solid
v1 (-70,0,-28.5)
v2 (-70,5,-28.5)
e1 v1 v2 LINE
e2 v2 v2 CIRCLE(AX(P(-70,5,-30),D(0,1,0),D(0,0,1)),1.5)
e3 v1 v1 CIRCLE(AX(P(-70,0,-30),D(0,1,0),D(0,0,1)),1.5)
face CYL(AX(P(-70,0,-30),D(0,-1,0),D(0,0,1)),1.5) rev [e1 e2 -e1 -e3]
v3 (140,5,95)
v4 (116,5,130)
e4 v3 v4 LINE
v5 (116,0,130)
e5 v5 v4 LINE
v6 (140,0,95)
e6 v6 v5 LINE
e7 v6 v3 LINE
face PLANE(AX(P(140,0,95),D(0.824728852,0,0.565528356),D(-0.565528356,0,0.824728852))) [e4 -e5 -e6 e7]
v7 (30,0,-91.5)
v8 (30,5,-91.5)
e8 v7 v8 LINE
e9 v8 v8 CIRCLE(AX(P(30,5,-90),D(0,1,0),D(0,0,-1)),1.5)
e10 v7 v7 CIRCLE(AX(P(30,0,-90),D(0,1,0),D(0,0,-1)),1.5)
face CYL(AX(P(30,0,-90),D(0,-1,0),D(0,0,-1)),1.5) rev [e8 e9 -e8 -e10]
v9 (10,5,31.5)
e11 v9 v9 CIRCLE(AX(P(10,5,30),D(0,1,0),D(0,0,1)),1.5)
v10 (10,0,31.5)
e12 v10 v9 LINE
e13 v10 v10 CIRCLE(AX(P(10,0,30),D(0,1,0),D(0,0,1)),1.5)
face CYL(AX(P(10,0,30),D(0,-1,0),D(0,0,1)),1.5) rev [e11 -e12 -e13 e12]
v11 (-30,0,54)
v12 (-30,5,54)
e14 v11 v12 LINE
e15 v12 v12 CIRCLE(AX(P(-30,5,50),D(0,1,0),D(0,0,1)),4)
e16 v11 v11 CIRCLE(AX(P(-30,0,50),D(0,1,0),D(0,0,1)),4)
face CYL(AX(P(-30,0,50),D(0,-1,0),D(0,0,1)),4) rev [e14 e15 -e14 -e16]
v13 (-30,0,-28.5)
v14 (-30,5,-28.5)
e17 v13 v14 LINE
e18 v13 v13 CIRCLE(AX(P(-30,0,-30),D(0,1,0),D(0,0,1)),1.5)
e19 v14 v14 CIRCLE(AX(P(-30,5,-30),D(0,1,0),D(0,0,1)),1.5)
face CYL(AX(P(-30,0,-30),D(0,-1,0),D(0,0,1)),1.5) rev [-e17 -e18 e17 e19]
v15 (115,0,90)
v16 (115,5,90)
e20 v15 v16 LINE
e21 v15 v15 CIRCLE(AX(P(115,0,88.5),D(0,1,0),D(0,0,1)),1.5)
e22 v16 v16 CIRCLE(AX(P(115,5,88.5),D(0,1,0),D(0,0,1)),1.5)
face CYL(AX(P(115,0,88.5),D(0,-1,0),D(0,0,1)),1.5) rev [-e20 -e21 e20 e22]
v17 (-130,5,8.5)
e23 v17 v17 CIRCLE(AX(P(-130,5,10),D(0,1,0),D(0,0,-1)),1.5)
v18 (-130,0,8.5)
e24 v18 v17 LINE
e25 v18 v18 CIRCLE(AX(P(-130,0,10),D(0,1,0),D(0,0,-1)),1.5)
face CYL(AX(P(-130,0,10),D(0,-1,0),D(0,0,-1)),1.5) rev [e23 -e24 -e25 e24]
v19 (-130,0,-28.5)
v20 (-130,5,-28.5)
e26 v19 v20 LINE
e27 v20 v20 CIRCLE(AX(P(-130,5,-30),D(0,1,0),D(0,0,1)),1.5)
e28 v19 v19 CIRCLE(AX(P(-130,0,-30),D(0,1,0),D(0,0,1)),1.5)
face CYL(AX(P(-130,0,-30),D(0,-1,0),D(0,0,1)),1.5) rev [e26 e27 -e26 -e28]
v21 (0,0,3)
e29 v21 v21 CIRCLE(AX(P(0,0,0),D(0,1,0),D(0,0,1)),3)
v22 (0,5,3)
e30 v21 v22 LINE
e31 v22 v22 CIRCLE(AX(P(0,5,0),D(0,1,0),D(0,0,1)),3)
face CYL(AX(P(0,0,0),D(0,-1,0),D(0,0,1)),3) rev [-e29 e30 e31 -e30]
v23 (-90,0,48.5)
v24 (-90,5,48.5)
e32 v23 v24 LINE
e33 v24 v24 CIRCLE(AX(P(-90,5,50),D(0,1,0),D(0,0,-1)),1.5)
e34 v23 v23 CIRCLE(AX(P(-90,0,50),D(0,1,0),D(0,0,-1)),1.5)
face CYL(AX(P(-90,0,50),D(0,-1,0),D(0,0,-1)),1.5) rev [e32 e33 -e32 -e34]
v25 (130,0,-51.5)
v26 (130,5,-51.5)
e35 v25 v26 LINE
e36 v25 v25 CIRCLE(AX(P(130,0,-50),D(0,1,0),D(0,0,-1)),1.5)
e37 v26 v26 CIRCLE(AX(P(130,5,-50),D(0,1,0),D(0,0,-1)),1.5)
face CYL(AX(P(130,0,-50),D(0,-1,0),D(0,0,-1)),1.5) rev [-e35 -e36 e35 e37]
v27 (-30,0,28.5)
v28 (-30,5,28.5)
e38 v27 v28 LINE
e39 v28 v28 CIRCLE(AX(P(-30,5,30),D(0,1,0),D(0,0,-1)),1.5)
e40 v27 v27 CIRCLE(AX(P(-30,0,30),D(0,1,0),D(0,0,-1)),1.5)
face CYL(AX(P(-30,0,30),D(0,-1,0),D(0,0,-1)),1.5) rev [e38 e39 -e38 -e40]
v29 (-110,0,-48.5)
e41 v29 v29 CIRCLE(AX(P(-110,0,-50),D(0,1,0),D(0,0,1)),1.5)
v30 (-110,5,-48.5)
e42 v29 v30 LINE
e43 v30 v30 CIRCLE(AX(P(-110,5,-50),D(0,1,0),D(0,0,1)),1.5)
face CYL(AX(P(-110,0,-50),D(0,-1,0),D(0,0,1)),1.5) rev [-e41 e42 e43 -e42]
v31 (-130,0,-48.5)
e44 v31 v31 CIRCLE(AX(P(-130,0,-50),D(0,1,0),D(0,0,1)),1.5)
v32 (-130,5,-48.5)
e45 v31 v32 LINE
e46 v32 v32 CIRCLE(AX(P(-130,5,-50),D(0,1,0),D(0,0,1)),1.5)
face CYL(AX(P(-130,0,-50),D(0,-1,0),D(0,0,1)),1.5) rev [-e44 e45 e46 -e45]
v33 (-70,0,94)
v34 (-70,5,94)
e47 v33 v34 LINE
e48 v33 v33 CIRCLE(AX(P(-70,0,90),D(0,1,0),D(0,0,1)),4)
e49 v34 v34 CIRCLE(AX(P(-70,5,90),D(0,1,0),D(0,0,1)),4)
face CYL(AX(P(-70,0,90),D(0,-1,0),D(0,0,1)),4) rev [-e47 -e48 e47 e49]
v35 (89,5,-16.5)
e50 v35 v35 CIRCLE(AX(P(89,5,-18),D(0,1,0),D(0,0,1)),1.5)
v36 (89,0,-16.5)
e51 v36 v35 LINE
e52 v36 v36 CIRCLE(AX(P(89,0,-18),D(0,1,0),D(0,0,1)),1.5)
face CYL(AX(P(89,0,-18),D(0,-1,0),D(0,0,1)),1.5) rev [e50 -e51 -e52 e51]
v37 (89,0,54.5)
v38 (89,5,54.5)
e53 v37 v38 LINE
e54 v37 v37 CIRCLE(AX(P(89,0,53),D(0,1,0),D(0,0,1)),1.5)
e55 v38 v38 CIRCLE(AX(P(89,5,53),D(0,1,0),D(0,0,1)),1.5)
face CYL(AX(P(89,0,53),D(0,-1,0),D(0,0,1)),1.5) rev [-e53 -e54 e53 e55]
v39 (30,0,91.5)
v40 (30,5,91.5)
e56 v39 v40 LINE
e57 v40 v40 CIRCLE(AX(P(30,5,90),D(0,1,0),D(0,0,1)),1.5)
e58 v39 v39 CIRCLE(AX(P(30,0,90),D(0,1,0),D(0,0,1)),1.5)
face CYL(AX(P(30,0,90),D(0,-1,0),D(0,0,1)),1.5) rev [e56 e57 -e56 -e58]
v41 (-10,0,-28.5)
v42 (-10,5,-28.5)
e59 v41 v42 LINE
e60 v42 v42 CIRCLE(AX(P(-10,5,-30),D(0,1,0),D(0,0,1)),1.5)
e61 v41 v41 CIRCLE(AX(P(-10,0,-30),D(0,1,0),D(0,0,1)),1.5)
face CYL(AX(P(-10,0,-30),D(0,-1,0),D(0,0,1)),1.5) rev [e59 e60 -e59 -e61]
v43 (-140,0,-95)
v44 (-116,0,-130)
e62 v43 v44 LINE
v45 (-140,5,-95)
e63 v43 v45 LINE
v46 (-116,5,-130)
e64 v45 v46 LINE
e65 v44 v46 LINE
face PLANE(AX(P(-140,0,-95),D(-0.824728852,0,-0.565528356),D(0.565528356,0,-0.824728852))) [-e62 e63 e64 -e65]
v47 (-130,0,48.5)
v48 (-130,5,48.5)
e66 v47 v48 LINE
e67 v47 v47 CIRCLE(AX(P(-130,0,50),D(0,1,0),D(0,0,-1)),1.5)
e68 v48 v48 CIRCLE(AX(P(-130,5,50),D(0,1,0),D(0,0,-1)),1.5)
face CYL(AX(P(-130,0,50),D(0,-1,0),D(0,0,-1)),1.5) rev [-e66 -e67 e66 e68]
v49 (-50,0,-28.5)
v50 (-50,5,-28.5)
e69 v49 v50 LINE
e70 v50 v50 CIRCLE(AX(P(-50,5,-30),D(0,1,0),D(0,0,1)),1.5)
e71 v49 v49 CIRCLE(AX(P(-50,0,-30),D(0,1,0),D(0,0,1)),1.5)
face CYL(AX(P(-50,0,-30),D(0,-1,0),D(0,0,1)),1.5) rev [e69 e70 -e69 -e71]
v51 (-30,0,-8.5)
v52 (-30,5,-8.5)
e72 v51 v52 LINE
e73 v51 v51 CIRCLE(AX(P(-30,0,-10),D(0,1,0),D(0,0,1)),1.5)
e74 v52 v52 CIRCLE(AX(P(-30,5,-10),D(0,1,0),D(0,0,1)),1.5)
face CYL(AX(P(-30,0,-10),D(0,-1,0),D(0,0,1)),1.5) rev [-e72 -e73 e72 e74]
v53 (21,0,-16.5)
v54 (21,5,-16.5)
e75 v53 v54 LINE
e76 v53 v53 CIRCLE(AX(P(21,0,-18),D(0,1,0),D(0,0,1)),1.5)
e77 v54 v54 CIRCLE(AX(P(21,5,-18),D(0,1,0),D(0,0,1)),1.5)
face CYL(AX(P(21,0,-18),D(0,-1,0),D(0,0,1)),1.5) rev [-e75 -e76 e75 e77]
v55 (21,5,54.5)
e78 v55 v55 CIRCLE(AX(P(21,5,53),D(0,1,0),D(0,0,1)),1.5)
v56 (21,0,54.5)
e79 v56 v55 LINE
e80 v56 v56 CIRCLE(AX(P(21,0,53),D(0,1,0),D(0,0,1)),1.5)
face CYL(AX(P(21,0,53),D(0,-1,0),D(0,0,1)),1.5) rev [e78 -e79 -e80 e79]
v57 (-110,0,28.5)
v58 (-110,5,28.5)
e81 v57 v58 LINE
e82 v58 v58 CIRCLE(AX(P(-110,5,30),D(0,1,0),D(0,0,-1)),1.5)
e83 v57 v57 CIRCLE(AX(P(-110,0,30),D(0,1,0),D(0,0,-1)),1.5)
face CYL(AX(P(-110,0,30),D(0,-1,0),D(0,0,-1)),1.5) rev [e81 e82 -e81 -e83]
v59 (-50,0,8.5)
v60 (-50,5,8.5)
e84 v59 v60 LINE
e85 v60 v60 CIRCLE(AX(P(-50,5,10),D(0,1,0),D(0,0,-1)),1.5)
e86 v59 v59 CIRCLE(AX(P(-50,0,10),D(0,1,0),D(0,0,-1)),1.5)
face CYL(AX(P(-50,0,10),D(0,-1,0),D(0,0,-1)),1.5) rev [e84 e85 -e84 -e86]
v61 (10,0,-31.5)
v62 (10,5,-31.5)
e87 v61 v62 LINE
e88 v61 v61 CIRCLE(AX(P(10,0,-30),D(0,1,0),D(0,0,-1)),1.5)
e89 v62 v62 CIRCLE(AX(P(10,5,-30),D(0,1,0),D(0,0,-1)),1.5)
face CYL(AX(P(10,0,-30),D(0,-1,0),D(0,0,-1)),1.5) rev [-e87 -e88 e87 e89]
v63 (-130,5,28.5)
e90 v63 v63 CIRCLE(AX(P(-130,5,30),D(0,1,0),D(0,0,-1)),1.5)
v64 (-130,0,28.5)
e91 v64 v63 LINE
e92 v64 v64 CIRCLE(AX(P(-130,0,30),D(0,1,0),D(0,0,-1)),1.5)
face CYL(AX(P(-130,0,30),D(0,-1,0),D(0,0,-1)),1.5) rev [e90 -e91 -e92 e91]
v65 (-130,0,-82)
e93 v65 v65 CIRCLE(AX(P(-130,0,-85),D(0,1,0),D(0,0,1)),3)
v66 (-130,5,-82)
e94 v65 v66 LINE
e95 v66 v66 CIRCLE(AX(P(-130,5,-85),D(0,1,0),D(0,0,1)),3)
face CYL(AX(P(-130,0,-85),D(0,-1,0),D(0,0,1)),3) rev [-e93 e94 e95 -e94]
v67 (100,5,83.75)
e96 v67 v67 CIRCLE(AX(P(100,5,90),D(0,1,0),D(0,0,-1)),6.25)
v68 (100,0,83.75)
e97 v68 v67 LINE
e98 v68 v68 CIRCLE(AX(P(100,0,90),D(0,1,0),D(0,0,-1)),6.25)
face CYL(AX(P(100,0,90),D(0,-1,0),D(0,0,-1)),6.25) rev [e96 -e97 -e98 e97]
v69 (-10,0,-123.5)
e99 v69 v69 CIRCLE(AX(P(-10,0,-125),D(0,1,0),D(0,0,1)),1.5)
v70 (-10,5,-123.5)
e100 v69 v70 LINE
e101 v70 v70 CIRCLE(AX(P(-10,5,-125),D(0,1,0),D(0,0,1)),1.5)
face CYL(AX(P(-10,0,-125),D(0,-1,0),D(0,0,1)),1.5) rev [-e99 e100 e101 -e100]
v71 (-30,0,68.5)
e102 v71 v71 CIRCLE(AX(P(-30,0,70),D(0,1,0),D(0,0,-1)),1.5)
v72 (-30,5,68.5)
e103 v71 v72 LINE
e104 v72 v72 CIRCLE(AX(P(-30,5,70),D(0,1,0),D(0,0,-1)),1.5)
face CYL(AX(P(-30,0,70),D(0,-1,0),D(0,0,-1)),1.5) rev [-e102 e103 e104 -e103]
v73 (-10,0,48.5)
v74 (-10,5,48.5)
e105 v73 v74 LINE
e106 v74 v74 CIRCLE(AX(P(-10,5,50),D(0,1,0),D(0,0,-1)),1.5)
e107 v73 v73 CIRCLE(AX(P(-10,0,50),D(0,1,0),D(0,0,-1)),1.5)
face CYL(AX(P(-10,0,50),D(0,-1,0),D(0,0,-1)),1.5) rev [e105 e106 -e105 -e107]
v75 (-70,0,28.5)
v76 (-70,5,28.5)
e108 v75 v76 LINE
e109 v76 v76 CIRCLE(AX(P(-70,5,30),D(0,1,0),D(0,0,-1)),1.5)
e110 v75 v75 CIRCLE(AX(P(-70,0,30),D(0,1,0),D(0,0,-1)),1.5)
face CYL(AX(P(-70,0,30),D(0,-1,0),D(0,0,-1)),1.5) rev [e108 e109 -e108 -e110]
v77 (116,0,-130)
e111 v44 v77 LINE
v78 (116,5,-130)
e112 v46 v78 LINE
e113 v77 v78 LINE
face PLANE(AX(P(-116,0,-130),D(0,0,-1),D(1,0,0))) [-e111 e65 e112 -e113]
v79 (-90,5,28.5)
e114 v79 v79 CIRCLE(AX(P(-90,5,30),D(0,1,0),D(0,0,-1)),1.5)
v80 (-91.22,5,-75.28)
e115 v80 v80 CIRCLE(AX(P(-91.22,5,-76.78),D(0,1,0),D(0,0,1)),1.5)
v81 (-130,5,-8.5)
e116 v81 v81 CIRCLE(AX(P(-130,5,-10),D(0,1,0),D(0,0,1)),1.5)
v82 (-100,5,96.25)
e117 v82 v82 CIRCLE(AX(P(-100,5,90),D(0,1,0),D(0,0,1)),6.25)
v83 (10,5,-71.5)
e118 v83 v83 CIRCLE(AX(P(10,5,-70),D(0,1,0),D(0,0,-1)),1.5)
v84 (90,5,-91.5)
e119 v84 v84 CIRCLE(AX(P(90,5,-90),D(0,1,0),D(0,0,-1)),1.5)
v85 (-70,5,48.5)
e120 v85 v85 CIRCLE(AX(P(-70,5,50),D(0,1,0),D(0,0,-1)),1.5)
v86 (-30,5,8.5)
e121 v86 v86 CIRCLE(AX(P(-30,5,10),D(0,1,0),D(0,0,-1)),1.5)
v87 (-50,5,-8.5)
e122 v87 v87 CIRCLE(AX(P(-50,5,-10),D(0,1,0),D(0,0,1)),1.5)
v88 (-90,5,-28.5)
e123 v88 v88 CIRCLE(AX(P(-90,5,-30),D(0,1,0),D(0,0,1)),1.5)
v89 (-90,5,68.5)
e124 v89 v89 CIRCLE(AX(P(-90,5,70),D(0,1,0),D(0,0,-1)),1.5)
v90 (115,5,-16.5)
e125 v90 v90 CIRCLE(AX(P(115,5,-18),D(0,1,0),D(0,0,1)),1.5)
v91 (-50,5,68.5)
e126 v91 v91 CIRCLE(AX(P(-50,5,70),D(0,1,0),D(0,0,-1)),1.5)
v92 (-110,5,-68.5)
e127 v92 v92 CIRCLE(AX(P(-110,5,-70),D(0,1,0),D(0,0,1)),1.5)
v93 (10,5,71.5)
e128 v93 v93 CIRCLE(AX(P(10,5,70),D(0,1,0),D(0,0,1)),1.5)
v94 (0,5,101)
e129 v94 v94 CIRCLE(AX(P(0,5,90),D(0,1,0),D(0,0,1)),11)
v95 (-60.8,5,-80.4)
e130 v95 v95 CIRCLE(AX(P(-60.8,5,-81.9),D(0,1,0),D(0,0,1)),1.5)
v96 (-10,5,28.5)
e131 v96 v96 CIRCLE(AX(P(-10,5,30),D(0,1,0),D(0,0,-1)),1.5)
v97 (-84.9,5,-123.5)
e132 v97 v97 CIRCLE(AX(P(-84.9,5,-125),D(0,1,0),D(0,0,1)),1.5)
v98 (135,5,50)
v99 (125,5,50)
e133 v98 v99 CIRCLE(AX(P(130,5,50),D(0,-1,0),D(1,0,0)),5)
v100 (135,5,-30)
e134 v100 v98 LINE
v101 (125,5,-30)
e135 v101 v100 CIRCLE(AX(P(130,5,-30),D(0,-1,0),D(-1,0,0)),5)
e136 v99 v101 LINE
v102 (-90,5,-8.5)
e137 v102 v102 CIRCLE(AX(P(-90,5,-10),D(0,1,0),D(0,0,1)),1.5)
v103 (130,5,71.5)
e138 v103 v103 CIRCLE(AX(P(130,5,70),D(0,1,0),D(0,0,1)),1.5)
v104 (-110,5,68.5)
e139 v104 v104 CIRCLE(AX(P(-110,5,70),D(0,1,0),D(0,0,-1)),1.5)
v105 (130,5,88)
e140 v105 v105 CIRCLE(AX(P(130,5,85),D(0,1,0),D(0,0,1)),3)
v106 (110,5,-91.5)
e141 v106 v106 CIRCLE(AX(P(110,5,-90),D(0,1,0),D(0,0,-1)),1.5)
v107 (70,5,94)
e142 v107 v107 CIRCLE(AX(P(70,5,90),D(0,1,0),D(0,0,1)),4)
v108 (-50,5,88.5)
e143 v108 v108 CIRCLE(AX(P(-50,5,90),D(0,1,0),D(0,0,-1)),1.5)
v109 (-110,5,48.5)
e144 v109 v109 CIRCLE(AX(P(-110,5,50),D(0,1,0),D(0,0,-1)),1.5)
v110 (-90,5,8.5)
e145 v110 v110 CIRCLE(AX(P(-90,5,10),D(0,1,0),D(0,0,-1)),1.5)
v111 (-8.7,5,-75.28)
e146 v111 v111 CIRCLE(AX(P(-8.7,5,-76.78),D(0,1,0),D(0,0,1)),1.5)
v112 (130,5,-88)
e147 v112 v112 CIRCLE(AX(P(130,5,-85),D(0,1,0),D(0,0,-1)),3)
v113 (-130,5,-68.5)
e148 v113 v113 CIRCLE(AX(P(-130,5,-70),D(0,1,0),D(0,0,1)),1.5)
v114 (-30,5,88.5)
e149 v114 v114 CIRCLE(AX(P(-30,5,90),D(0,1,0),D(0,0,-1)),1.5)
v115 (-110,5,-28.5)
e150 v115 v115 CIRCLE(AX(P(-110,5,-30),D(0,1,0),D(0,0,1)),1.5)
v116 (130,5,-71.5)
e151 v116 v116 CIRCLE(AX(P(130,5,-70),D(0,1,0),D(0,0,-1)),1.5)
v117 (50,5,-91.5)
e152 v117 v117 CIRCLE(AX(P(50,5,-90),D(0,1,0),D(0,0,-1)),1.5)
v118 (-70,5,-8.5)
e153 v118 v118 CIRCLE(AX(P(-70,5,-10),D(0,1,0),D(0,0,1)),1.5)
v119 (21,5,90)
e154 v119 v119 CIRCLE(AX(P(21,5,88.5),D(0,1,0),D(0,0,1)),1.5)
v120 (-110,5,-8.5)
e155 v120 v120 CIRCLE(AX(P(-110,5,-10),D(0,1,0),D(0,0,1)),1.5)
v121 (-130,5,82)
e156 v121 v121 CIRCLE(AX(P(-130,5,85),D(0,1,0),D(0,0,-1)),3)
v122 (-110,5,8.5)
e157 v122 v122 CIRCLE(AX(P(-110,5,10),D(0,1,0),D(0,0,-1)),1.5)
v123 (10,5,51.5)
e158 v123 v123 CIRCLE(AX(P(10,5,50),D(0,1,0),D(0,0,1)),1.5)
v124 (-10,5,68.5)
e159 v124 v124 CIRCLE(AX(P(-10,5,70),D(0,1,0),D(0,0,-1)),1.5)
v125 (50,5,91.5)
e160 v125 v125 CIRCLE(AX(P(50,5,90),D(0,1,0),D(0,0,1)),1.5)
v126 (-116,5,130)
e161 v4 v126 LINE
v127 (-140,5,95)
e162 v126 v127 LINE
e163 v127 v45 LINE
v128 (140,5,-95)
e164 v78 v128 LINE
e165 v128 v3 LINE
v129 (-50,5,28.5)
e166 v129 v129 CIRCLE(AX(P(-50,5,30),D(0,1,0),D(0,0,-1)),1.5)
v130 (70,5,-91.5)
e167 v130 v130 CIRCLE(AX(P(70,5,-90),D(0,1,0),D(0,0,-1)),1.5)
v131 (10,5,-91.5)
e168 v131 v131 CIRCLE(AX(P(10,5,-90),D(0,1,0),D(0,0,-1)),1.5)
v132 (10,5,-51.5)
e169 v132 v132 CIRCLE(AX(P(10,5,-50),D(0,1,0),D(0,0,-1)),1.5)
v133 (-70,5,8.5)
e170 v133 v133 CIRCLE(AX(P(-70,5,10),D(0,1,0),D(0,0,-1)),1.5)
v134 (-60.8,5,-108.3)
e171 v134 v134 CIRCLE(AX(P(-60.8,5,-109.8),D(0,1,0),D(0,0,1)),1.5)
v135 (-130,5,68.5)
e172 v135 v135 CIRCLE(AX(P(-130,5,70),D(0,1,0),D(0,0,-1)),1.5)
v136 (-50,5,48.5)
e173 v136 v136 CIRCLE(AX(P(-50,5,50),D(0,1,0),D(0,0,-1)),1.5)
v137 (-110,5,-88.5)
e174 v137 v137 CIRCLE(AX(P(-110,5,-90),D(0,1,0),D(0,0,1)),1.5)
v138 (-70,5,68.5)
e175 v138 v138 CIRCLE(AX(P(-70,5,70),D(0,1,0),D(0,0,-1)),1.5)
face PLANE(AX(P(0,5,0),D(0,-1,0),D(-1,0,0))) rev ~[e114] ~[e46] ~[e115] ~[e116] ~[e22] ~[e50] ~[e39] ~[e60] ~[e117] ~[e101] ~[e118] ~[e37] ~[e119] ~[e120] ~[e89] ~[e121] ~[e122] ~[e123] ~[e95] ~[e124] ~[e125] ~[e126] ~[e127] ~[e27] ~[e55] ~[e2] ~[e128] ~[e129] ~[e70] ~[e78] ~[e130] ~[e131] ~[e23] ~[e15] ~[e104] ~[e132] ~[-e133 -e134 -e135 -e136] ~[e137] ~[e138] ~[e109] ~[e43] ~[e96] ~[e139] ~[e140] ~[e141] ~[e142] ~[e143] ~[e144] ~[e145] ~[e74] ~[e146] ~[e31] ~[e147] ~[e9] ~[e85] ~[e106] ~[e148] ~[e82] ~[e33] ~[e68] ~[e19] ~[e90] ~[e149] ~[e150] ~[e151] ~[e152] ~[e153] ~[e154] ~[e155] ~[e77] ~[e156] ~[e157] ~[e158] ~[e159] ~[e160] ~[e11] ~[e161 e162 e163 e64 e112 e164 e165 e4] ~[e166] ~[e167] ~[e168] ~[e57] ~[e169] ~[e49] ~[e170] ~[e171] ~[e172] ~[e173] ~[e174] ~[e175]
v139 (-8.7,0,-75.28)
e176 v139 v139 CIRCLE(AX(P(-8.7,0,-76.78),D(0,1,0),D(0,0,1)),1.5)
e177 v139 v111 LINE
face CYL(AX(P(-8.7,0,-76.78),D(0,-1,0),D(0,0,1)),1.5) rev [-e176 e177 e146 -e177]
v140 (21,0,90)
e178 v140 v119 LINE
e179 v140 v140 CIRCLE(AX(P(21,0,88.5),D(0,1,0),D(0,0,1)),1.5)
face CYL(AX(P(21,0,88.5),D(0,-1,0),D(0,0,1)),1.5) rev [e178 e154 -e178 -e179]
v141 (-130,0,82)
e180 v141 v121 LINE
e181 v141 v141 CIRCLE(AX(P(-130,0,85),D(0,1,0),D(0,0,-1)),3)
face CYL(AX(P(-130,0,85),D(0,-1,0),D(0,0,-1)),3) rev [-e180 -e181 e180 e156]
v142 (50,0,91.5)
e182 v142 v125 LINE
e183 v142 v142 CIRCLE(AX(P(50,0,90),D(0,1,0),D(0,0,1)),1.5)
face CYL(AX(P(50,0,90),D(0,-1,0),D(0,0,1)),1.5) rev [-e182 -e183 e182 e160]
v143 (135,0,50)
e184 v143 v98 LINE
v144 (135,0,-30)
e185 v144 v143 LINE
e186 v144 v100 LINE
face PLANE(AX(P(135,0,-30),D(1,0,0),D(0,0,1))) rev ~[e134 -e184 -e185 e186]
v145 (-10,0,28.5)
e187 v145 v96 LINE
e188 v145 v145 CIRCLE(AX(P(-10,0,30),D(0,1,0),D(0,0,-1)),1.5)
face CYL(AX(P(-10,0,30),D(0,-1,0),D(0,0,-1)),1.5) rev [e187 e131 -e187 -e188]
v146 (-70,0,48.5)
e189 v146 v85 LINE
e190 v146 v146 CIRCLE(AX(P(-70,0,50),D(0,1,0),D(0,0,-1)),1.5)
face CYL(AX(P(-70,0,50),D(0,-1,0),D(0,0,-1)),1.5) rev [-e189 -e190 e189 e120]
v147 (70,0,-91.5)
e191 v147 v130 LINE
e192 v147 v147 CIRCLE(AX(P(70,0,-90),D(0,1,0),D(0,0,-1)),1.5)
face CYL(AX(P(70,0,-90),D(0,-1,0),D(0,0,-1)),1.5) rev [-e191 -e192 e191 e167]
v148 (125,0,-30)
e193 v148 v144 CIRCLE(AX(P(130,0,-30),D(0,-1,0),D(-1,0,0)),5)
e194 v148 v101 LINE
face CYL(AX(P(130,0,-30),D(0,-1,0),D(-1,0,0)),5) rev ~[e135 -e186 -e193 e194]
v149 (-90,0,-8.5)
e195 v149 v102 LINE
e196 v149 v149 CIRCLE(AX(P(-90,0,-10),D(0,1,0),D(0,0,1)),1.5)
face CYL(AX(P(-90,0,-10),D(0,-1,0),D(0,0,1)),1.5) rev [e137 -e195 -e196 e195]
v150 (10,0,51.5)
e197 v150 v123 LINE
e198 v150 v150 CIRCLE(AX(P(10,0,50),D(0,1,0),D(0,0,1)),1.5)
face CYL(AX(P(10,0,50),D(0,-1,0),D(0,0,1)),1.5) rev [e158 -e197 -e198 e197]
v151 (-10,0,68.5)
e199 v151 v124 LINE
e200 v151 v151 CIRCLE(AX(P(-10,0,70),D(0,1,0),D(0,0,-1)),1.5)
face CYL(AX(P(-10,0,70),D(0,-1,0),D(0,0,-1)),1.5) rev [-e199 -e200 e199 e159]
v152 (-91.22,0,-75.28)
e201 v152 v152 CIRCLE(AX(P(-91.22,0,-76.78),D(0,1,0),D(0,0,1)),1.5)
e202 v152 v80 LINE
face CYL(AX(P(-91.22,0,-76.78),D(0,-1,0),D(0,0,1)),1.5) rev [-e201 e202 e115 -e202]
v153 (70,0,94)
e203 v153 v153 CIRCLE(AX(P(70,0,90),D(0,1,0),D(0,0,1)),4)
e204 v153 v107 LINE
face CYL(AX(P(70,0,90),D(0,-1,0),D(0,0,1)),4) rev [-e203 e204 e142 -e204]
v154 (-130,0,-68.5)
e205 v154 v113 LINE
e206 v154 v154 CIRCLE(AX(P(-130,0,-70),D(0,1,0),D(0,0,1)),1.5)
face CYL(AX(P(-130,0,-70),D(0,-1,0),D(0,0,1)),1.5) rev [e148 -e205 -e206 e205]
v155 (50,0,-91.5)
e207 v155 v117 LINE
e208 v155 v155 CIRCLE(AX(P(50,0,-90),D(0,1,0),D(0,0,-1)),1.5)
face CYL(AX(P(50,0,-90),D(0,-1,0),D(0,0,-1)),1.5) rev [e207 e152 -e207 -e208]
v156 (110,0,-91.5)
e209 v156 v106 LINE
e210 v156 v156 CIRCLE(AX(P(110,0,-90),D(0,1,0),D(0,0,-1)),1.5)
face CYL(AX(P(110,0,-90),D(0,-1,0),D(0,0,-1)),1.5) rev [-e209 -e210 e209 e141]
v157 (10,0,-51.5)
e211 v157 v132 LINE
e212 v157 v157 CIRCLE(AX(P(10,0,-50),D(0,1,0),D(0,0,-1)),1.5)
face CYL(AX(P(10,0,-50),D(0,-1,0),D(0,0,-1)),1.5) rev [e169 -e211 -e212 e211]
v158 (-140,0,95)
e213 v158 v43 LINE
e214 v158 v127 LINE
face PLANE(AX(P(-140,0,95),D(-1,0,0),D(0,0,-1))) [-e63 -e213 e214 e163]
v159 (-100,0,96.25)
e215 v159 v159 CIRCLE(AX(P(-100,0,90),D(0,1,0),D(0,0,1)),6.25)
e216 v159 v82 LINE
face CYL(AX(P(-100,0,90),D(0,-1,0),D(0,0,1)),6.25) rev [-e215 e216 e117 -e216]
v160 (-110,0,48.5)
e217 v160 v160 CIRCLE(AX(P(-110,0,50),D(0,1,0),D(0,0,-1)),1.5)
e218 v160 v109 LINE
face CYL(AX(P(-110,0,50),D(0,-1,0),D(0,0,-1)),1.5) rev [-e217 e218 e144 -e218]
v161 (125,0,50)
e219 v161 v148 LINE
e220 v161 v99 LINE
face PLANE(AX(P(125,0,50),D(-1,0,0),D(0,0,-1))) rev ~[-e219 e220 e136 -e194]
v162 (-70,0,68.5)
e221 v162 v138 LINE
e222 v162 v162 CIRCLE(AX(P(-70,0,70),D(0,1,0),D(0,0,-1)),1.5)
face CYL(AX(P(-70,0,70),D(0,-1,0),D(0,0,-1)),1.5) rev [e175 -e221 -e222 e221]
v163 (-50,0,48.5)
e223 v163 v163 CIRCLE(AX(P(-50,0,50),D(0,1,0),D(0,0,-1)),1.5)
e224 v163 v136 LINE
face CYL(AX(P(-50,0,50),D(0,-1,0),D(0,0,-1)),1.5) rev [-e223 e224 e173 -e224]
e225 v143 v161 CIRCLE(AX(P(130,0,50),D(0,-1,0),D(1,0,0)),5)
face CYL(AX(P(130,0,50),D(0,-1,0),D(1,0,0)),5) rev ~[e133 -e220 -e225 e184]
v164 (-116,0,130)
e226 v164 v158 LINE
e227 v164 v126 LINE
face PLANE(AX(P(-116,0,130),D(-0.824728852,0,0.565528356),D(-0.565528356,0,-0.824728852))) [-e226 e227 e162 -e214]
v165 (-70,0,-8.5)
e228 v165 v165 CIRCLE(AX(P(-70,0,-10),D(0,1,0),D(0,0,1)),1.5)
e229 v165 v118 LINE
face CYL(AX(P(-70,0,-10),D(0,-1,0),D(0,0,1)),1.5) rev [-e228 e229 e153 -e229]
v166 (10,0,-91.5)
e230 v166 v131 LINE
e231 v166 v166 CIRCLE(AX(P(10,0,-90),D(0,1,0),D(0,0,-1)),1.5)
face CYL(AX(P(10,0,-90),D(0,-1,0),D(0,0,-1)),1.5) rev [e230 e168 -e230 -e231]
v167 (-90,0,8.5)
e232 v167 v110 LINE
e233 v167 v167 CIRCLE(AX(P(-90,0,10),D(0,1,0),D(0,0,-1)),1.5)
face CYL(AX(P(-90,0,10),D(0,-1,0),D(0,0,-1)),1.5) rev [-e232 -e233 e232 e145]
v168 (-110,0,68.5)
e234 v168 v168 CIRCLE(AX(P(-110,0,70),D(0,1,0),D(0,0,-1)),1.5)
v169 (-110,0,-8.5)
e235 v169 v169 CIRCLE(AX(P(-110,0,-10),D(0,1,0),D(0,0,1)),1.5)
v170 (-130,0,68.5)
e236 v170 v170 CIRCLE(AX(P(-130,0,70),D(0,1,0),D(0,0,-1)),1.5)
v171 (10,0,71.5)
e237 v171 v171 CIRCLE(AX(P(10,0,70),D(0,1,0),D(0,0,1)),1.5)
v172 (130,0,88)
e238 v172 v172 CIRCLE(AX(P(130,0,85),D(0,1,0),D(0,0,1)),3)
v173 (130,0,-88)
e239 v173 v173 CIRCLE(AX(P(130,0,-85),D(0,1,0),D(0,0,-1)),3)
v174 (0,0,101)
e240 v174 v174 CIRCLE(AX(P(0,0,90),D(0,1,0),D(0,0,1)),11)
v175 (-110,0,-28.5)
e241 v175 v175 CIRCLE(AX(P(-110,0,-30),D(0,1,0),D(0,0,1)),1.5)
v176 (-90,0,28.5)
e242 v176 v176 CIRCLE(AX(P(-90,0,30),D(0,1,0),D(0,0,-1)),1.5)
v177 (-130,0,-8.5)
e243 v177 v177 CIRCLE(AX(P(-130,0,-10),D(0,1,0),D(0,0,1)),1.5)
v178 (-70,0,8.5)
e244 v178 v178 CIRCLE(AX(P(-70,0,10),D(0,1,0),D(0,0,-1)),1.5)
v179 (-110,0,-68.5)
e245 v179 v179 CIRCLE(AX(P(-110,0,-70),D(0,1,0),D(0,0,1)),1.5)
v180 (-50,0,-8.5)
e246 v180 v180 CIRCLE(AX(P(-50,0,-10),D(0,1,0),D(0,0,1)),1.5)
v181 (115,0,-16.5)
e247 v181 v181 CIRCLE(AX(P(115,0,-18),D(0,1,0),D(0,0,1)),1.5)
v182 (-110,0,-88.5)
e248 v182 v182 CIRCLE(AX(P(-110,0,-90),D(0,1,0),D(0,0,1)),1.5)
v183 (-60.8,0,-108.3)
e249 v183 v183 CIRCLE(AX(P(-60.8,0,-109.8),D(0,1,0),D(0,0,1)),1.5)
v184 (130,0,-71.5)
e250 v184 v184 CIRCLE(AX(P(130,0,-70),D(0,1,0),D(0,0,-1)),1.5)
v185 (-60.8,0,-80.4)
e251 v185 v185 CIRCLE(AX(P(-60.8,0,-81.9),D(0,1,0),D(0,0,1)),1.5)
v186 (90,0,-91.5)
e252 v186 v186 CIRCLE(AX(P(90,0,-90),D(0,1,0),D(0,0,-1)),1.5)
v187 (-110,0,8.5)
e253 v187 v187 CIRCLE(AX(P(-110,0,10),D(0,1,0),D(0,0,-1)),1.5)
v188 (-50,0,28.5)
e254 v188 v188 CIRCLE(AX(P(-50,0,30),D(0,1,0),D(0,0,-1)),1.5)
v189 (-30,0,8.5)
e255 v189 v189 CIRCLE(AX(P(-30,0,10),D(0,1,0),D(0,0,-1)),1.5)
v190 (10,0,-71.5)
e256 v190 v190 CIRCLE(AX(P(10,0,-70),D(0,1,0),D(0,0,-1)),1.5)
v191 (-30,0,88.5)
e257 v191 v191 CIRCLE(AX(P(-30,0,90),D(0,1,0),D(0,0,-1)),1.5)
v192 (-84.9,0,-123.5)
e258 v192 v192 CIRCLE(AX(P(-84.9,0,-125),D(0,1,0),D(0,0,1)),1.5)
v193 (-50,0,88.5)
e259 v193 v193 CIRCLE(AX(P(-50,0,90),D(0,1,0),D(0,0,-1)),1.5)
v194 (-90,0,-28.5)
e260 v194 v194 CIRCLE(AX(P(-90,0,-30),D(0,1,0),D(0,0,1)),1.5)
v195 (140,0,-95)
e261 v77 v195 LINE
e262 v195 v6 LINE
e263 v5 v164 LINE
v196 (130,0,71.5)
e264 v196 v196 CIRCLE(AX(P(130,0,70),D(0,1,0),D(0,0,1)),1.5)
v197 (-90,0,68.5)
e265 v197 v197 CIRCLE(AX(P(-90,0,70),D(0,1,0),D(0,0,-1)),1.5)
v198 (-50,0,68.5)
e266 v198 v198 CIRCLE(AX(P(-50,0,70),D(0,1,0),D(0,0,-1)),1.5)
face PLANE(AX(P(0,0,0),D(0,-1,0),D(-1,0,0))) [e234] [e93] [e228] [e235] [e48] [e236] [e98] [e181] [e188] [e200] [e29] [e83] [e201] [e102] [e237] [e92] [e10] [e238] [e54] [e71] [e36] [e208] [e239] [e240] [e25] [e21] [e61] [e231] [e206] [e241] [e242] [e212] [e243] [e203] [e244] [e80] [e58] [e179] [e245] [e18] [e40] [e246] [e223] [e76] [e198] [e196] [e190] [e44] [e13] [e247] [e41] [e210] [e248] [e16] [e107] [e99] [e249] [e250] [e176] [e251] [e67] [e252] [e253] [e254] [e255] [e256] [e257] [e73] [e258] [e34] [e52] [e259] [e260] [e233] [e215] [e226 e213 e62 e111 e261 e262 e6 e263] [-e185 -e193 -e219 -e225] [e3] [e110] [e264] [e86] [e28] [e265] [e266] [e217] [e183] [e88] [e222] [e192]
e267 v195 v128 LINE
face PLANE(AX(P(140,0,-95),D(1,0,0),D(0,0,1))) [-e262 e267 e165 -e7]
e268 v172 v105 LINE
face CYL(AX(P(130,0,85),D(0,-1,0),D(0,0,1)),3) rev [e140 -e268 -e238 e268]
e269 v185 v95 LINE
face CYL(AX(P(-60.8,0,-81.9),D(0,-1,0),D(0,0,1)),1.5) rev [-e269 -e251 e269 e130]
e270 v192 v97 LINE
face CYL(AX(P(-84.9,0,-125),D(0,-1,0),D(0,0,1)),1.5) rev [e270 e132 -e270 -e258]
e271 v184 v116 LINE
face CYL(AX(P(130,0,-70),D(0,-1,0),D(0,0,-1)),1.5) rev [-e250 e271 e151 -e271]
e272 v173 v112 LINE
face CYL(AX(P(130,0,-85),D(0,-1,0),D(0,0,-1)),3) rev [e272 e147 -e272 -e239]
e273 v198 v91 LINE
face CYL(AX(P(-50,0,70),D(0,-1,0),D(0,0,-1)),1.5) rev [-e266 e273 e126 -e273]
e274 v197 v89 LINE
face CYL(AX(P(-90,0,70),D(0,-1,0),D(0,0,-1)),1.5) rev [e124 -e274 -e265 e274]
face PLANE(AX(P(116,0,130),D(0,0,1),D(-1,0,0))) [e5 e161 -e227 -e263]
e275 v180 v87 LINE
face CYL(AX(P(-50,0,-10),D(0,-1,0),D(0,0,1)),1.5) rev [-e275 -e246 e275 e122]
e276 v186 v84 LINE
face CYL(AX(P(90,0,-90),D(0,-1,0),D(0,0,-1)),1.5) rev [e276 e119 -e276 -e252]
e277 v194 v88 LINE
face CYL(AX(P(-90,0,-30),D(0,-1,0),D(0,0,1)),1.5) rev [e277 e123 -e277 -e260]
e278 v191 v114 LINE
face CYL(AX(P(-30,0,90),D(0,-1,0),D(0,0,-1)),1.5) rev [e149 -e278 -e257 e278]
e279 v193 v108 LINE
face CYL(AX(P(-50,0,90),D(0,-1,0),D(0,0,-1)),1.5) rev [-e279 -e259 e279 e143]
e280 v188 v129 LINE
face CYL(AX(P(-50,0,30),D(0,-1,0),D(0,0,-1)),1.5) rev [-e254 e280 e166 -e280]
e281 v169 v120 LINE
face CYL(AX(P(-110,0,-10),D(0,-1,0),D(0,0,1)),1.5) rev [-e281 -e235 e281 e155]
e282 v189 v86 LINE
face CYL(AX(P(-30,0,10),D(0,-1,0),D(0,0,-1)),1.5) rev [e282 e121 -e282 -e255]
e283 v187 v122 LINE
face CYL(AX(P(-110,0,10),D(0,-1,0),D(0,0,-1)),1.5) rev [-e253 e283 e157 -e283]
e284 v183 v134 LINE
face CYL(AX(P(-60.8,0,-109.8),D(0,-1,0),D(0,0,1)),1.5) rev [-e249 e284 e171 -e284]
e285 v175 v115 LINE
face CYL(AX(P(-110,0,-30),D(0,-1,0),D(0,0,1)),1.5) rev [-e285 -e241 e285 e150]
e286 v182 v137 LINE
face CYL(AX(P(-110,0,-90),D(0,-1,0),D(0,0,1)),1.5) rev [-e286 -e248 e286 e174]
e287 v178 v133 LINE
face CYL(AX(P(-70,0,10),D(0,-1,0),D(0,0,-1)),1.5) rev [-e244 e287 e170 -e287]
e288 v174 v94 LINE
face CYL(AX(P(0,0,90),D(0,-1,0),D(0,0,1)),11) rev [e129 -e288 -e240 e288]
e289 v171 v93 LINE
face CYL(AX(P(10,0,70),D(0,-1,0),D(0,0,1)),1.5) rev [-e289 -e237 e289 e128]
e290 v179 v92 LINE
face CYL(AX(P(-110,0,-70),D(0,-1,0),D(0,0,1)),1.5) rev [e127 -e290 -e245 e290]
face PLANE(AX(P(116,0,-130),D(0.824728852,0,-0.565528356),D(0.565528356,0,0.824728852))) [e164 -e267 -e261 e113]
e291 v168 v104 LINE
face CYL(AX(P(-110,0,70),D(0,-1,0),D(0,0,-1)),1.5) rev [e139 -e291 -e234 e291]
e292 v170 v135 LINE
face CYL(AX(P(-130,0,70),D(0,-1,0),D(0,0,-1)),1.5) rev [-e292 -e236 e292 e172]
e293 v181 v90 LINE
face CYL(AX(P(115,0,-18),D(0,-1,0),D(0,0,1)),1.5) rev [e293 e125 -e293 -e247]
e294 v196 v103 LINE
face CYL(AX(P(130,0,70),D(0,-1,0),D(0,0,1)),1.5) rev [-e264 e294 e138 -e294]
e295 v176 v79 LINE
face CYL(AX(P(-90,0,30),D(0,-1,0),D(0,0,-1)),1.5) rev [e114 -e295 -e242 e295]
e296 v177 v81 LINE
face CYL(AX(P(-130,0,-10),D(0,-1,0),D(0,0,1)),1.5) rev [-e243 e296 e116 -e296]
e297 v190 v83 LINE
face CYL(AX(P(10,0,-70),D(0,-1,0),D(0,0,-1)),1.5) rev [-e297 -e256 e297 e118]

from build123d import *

# Parameters (mm, degrees)
ESQUISSE1_R        = 3
ESQUISSE1_R_2      = 1.5
ESQUISSE1_R_3      = 6.25
ESQUISSE1_R_4      = 4
ESQUISSE1_R_5      = 11
BOSS_EXTRU_1_DEPTH = 5


with BuildPart() as part:
    # Esquisse1 → Boss.-Extru.1 (new body)
    with BuildSketch(Plane(origin=(0, 0, 0), x_dir=(1, 0, 0), z_dir=(0, 1, 0))):
        Polygon((-140, -95), (-140, 95), (-116, 130), (116, 130), (140, 95), (140, -95), (116, -130), (-116, -130), align=None)
        with Locations(Location((-130, 85, 0), (0, 0, 270))):
            Circle(ESQUISSE1_R, mode=Mode.SUBTRACT)
        with Locations(Location((-30, 10, 0), (0, 0, 270))):
            Circle(ESQUISSE1_R_2, mode=Mode.SUBTRACT)
        with Locations(Location((-50, 10, 0), (0, 0, 270))):
            Circle(ESQUISSE1_R_2, mode=Mode.SUBTRACT)
        with Locations(Location((-70, 10, 0), (0, 0, 270))):
            Circle(ESQUISSE1_R_2, mode=Mode.SUBTRACT)
        with Locations(Location((-90, 10, 0), (0, 0, 270))):
            Circle(ESQUISSE1_R_2, mode=Mode.SUBTRACT)
        with Locations(Location((-110, 10, 0), (0, 0, 270))):
            Circle(ESQUISSE1_R_2, mode=Mode.SUBTRACT)
        with Locations(Location((-130, 10, 0), (0, 0, 270))):
            Circle(ESQUISSE1_R_2, mode=Mode.SUBTRACT)
        with Locations(Location((-50, 30, 0), (0, 0, 270))):
            Circle(ESQUISSE1_R_2, mode=Mode.SUBTRACT)
        with Locations(Location((-70, 30, 0), (0, 0, 270))):
            Circle(ESQUISSE1_R_2, mode=Mode.SUBTRACT)
        with Locations(Location((-90, 30, 0), (0, 0, 270))):
            Circle(ESQUISSE1_R_2, mode=Mode.SUBTRACT)
        with Locations(Location((-110, 30, 0), (0, 0, 270))):
            Circle(ESQUISSE1_R_2, mode=Mode.SUBTRACT)
        with Locations(Location((-130, 30, 0), (0, 0, 270))):
            Circle(ESQUISSE1_R_2, mode=Mode.SUBTRACT)
        with Locations(Location((-100, -90, 0), (0, 0, 270))):
            Circle(ESQUISSE1_R_3, mode=Mode.SUBTRACT)
        with Locations(Location((100, -90, 0), (0, 0, 90))):
            Circle(ESQUISSE1_R_3, mode=Mode.SUBTRACT)
        with Locations(Location((-70, -90, 0), (0, 0, 270))):
            Circle(ESQUISSE1_R_4, mode=Mode.SUBTRACT)
        with Locations(Location((-110, 50, 0), (0, 0, 270))):
            Circle(ESQUISSE1_R_2, mode=Mode.SUBTRACT)
        with Locations(Location((-130, 50, 0), (0, 0, 270))):
            Circle(ESQUISSE1_R_2, mode=Mode.SUBTRACT)
        with Locations(Location((-30, -50, 0), (0, 0, 270))):
            Circle(ESQUISSE1_R_4, mode=Mode.SUBTRACT)
        with Locations(Location((70, -90, 0), (0, 0, 270))):
            Circle(ESQUISSE1_R_4, mode=Mode.SUBTRACT)
        with Locations(Location((-110, 70, 0), (0, 0, 270))):
            Circle(ESQUISSE1_R_2, mode=Mode.SUBTRACT)
        with Locations(Location((-130, 70, 0), (0, 0, 270))):
            Circle(ESQUISSE1_R_2, mode=Mode.SUBTRACT)
        with Locations(Location((-110, 90, 0), (0, 0, 270))):
            Circle(ESQUISSE1_R_2, mode=Mode.SUBTRACT)
        with Locations(Location((-30, 30, 0), (0, 0, 270))):
            Circle(ESQUISSE1_R_2, mode=Mode.SUBTRACT)
        with Locations(Location((-10, 30, 0), (0, 0, 270))):
            Circle(ESQUISSE1_R_2, mode=Mode.SUBTRACT)
        with Locations(Location((-10, 125, 0), (0, 0, 270))):
            Circle(ESQUISSE1_R_2, mode=Mode.SUBTRACT)
        with Locations(Location((-10, -70, 0), (0, 0, 90))):
            Circle(ESQUISSE1_R_2, mode=Mode.SUBTRACT)
        with Locations(Location((-10, -50, 0), (0, 0, 90))):
            Circle(ESQUISSE1_R_2, mode=Mode.SUBTRACT)
        with Locations(Location((-10, -30, 0), (0, 0, 90))):
            Circle(ESQUISSE1_R_2, mode=Mode.SUBTRACT)
        with Locations(Location((-30, -90, 0), (0, 0, 90))):
            Circle(ESQUISSE1_R_2, mode=Mode.SUBTRACT)
        with Locations(Location((-30, -70, 0), (0, 0, 90))):
            Circle(ESQUISSE1_R_2, mode=Mode.SUBTRACT)
        with Locations(Location((-30, -30, 0), (0, 0, 90))):
            Circle(ESQUISSE1_R_2, mode=Mode.SUBTRACT)
        with Locations(Location((-84.9, 125, 0), (0, 0, 270))):
            Circle(ESQUISSE1_R_2, mode=Mode.SUBTRACT)
        with Locations(Location((-60.8, 109.8, 0), (0, 0, 270))):
            Circle(ESQUISSE1_R_2, mode=Mode.SUBTRACT)
        with Locations(Location((-50, -90, 0), (0, 0, 90))):
            Circle(ESQUISSE1_R_2, mode=Mode.SUBTRACT)
        with Locations(Location((-130, -70, 0), (0, 0, 90))):
            Circle(ESQUISSE1_R_2, mode=Mode.SUBTRACT)
        with Locations(Location((-110, -70, 0), (0, 0, 90))):
            Circle(ESQUISSE1_R_2, mode=Mode.SUBTRACT)
        with Locations(Location((-90, -70, 0), (0, 0, 90))):
            Circle(ESQUISSE1_R_2, mode=Mode.SUBTRACT)
        with Locations(Location((-70, -70, 0), (0, 0, 90))):
            Circle(ESQUISSE1_R_2, mode=Mode.SUBTRACT)
        with Locations(Location((-50, -70, 0), (0, 0, 90))):
            Circle(ESQUISSE1_R_2, mode=Mode.SUBTRACT)
        with Locations(Location((-130, -50, 0), (0, 0, 90))):
            Circle(ESQUISSE1_R_2, mode=Mode.SUBTRACT)
        with Locations(Location((-110, -50, 0), (0, 0, 90))):
            Circle(ESQUISSE1_R_2, mode=Mode.SUBTRACT)
        with Locations(Location((-90, -50, 0), (0, 0, 90))):
            Circle(ESQUISSE1_R_2, mode=Mode.SUBTRACT)
        with Locations(Location((-70, -50, 0), (0, 0, 90))):
            Circle(ESQUISSE1_R_2, mode=Mode.SUBTRACT)
        with Locations(Location((-50, -50, 0), (0, 0, 90))):
            Circle(ESQUISSE1_R_2, mode=Mode.SUBTRACT)
        with Locations(Location((-130, -30, 0), (0, 0, 90))):
            Circle(ESQUISSE1_R_2, mode=Mode.SUBTRACT)
        with Locations(Location((-110, -30, 0), (0, 0, 90))):
            Circle(ESQUISSE1_R_2, mode=Mode.SUBTRACT)
        with Locations(Location((-90, -30, 0), (0, 0, 90))):
            Circle(ESQUISSE1_R_2, mode=Mode.SUBTRACT)
        with Locations(Location((-70, -30, 0), (0, 0, 90))):
            Circle(ESQUISSE1_R_2, mode=Mode.SUBTRACT)
        with Locations(Location((-50, -30, 0), (0, 0, 90))):
            Circle(ESQUISSE1_R_2, mode=Mode.SUBTRACT)
        with Locations(Location((-130, -10, 0), (0, 0, 90))):
            Circle(ESQUISSE1_R_2, mode=Mode.SUBTRACT)
        with Locations(Location((-110, -10, 0), (0, 0, 90))):
            Circle(ESQUISSE1_R_2, mode=Mode.SUBTRACT)
        with Locations(Location((-90, -10, 0), (0, 0, 90))):
            Circle(ESQUISSE1_R_2, mode=Mode.SUBTRACT)
        with Locations(Location((-70, -10, 0), (0, 0, 90))):
            Circle(ESQUISSE1_R_2, mode=Mode.SUBTRACT)
        with Locations(Location((-50, -10, 0), (0, 0, 90))):
            Circle(ESQUISSE1_R_2, mode=Mode.SUBTRACT)
        with Locations(Location((-30, -10, 0), (0, 0, 90))):
            Circle(ESQUISSE1_R_2, mode=Mode.SUBTRACT)
        with Locations(Location((-130, -85, 0), (0, 0, 90))):
            Circle(ESQUISSE1_R, mode=Mode.SUBTRACT)
        with Locations(Location((130, -85, 0), (0, 0, 270))):
            Circle(ESQUISSE1_R, mode=Mode.SUBTRACT)
        with Locations(Location((21, -88.5, 0), (0, 0, 270))):
            Circle(ESQUISSE1_R_2, mode=Mode.SUBTRACT)
        with Locations(Location((115, -88.5, 0), (0, 0, 270))):
            Circle(ESQUISSE1_R_2, mode=Mode.SUBTRACT)
        with Locations(Location((21, -53, 0), (0, 0, 270))):
            Circle(ESQUISSE1_R_2, mode=Mode.SUBTRACT)
        with Locations(Location((89, -53, 0), (0, 0, 270))):
            Circle(ESQUISSE1_R_2, mode=Mode.SUBTRACT)
        with Locations(Location((21, 18, 0), (0, 0, 270))):
            Circle(ESQUISSE1_R_2, mode=Mode.SUBTRACT)
        with Locations(Location((89, 18, 0), (0, 0, 270))):
            Circle(ESQUISSE1_R_2, mode=Mode.SUBTRACT)
        with Locations(Location((115, 18, 0), (0, 0, 270))):
            Circle(ESQUISSE1_R_2, mode=Mode.SUBTRACT)
        with Locations(Location((0, -90, 0), (0, 0, 270))):
            Circle(ESQUISSE1_R_5, mode=Mode.SUBTRACT)
        with Locations(Location((-60.8, 81.9, 0), (0, 0, 270))):
            Circle(ESQUISSE1_R_2, mode=Mode.SUBTRACT)
        with Locations(Location((-91.22, 76.78, 0), (0, 0, 270))):
            Circle(ESQUISSE1_R_2, mode=Mode.SUBTRACT)
        with Locations(Location((-8.7, 76.78, 0), (0, 0, 270))):
            Circle(ESQUISSE1_R_2, mode=Mode.SUBTRACT)
        with Locations(Location((130, -70, 0), (0, 0, 270))):
            Circle(ESQUISSE1_R_2, mode=Mode.SUBTRACT)
        with Locations(Location((50, -90, 0), (0, 0, 270))):
            Circle(ESQUISSE1_R_2, mode=Mode.SUBTRACT)
        with Locations(Location((30, -90, 0), (0, 0, 270))):
            Circle(ESQUISSE1_R_2, mode=Mode.SUBTRACT)
        with Locations(Location((10, -30, 0), (0, 0, 270))):
            Circle(ESQUISSE1_R_2, mode=Mode.SUBTRACT)
        with Locations(Location((10, -50, 0), (0, 0, 270))):
            Circle(ESQUISSE1_R_2, mode=Mode.SUBTRACT)
        with Locations(Location((10, -70, 0), (0, 0, 270))):
            Circle(ESQUISSE1_R_2, mode=Mode.SUBTRACT)
        with Locations(Location((10, 90, 0), (0, 0, 90))):
            Circle(ESQUISSE1_R_2, mode=Mode.SUBTRACT)
        with Locations(Location((10, 70, 0), (0, 0, 90))):
            Circle(ESQUISSE1_R_2, mode=Mode.SUBTRACT)
        with Locations(Location((10, 50, 0), (0, 0, 90))):
            Circle(ESQUISSE1_R_2, mode=Mode.SUBTRACT)
        with Locations(Location((10, 30, 0), (0, 0, 90))):
            Circle(ESQUISSE1_R_2, mode=Mode.SUBTRACT)
        with Locations(Location((30, 90, 0), (0, 0, 90))):
            Circle(ESQUISSE1_R_2, mode=Mode.SUBTRACT)
        with Locations(Location((110, 90, 0), (0, 0, 90))):
            Circle(ESQUISSE1_R_2, mode=Mode.SUBTRACT)
        with Locations(Location((90, 90, 0), (0, 0, 90))):
            Circle(ESQUISSE1_R_2, mode=Mode.SUBTRACT)
        with Locations(Location((70, 90, 0), (0, 0, 90))):
            Circle(ESQUISSE1_R_2, mode=Mode.SUBTRACT)
        with Locations(Location((50, 90, 0), (0, 0, 90))):
            Circle(ESQUISSE1_R_2, mode=Mode.SUBTRACT)
        with Locations(Location((130, 70, 0), (0, 0, 90))):
            Circle(ESQUISSE1_R_2, mode=Mode.SUBTRACT)
        with Locations(Location((130, 50, 0), (0, 0, 90))):
            Circle(ESQUISSE1_R_2, mode=Mode.SUBTRACT)
        with Locations(Location((130, 85, 0), (0, 0, 90))):
            Circle(ESQUISSE1_R, mode=Mode.SUBTRACT)
        with Locations(Location((0, 0, 0), (0, 0, 270))):
            Circle(ESQUISSE1_R, mode=Mode.SUBTRACT)
        with BuildLine():
            Line((135, 30), (135, -50))
            ThreePointArc((135, -50), (130, -55), (125, -50))
            Line((125, -50), (125, 30))
            ThreePointArc((125, 30), (130, 35), (135, 30))
        make_face(mode=Mode.SUBTRACT)
    extrude(amount=BOSS_EXTRU_1_DEPTH)


solid = part.part
